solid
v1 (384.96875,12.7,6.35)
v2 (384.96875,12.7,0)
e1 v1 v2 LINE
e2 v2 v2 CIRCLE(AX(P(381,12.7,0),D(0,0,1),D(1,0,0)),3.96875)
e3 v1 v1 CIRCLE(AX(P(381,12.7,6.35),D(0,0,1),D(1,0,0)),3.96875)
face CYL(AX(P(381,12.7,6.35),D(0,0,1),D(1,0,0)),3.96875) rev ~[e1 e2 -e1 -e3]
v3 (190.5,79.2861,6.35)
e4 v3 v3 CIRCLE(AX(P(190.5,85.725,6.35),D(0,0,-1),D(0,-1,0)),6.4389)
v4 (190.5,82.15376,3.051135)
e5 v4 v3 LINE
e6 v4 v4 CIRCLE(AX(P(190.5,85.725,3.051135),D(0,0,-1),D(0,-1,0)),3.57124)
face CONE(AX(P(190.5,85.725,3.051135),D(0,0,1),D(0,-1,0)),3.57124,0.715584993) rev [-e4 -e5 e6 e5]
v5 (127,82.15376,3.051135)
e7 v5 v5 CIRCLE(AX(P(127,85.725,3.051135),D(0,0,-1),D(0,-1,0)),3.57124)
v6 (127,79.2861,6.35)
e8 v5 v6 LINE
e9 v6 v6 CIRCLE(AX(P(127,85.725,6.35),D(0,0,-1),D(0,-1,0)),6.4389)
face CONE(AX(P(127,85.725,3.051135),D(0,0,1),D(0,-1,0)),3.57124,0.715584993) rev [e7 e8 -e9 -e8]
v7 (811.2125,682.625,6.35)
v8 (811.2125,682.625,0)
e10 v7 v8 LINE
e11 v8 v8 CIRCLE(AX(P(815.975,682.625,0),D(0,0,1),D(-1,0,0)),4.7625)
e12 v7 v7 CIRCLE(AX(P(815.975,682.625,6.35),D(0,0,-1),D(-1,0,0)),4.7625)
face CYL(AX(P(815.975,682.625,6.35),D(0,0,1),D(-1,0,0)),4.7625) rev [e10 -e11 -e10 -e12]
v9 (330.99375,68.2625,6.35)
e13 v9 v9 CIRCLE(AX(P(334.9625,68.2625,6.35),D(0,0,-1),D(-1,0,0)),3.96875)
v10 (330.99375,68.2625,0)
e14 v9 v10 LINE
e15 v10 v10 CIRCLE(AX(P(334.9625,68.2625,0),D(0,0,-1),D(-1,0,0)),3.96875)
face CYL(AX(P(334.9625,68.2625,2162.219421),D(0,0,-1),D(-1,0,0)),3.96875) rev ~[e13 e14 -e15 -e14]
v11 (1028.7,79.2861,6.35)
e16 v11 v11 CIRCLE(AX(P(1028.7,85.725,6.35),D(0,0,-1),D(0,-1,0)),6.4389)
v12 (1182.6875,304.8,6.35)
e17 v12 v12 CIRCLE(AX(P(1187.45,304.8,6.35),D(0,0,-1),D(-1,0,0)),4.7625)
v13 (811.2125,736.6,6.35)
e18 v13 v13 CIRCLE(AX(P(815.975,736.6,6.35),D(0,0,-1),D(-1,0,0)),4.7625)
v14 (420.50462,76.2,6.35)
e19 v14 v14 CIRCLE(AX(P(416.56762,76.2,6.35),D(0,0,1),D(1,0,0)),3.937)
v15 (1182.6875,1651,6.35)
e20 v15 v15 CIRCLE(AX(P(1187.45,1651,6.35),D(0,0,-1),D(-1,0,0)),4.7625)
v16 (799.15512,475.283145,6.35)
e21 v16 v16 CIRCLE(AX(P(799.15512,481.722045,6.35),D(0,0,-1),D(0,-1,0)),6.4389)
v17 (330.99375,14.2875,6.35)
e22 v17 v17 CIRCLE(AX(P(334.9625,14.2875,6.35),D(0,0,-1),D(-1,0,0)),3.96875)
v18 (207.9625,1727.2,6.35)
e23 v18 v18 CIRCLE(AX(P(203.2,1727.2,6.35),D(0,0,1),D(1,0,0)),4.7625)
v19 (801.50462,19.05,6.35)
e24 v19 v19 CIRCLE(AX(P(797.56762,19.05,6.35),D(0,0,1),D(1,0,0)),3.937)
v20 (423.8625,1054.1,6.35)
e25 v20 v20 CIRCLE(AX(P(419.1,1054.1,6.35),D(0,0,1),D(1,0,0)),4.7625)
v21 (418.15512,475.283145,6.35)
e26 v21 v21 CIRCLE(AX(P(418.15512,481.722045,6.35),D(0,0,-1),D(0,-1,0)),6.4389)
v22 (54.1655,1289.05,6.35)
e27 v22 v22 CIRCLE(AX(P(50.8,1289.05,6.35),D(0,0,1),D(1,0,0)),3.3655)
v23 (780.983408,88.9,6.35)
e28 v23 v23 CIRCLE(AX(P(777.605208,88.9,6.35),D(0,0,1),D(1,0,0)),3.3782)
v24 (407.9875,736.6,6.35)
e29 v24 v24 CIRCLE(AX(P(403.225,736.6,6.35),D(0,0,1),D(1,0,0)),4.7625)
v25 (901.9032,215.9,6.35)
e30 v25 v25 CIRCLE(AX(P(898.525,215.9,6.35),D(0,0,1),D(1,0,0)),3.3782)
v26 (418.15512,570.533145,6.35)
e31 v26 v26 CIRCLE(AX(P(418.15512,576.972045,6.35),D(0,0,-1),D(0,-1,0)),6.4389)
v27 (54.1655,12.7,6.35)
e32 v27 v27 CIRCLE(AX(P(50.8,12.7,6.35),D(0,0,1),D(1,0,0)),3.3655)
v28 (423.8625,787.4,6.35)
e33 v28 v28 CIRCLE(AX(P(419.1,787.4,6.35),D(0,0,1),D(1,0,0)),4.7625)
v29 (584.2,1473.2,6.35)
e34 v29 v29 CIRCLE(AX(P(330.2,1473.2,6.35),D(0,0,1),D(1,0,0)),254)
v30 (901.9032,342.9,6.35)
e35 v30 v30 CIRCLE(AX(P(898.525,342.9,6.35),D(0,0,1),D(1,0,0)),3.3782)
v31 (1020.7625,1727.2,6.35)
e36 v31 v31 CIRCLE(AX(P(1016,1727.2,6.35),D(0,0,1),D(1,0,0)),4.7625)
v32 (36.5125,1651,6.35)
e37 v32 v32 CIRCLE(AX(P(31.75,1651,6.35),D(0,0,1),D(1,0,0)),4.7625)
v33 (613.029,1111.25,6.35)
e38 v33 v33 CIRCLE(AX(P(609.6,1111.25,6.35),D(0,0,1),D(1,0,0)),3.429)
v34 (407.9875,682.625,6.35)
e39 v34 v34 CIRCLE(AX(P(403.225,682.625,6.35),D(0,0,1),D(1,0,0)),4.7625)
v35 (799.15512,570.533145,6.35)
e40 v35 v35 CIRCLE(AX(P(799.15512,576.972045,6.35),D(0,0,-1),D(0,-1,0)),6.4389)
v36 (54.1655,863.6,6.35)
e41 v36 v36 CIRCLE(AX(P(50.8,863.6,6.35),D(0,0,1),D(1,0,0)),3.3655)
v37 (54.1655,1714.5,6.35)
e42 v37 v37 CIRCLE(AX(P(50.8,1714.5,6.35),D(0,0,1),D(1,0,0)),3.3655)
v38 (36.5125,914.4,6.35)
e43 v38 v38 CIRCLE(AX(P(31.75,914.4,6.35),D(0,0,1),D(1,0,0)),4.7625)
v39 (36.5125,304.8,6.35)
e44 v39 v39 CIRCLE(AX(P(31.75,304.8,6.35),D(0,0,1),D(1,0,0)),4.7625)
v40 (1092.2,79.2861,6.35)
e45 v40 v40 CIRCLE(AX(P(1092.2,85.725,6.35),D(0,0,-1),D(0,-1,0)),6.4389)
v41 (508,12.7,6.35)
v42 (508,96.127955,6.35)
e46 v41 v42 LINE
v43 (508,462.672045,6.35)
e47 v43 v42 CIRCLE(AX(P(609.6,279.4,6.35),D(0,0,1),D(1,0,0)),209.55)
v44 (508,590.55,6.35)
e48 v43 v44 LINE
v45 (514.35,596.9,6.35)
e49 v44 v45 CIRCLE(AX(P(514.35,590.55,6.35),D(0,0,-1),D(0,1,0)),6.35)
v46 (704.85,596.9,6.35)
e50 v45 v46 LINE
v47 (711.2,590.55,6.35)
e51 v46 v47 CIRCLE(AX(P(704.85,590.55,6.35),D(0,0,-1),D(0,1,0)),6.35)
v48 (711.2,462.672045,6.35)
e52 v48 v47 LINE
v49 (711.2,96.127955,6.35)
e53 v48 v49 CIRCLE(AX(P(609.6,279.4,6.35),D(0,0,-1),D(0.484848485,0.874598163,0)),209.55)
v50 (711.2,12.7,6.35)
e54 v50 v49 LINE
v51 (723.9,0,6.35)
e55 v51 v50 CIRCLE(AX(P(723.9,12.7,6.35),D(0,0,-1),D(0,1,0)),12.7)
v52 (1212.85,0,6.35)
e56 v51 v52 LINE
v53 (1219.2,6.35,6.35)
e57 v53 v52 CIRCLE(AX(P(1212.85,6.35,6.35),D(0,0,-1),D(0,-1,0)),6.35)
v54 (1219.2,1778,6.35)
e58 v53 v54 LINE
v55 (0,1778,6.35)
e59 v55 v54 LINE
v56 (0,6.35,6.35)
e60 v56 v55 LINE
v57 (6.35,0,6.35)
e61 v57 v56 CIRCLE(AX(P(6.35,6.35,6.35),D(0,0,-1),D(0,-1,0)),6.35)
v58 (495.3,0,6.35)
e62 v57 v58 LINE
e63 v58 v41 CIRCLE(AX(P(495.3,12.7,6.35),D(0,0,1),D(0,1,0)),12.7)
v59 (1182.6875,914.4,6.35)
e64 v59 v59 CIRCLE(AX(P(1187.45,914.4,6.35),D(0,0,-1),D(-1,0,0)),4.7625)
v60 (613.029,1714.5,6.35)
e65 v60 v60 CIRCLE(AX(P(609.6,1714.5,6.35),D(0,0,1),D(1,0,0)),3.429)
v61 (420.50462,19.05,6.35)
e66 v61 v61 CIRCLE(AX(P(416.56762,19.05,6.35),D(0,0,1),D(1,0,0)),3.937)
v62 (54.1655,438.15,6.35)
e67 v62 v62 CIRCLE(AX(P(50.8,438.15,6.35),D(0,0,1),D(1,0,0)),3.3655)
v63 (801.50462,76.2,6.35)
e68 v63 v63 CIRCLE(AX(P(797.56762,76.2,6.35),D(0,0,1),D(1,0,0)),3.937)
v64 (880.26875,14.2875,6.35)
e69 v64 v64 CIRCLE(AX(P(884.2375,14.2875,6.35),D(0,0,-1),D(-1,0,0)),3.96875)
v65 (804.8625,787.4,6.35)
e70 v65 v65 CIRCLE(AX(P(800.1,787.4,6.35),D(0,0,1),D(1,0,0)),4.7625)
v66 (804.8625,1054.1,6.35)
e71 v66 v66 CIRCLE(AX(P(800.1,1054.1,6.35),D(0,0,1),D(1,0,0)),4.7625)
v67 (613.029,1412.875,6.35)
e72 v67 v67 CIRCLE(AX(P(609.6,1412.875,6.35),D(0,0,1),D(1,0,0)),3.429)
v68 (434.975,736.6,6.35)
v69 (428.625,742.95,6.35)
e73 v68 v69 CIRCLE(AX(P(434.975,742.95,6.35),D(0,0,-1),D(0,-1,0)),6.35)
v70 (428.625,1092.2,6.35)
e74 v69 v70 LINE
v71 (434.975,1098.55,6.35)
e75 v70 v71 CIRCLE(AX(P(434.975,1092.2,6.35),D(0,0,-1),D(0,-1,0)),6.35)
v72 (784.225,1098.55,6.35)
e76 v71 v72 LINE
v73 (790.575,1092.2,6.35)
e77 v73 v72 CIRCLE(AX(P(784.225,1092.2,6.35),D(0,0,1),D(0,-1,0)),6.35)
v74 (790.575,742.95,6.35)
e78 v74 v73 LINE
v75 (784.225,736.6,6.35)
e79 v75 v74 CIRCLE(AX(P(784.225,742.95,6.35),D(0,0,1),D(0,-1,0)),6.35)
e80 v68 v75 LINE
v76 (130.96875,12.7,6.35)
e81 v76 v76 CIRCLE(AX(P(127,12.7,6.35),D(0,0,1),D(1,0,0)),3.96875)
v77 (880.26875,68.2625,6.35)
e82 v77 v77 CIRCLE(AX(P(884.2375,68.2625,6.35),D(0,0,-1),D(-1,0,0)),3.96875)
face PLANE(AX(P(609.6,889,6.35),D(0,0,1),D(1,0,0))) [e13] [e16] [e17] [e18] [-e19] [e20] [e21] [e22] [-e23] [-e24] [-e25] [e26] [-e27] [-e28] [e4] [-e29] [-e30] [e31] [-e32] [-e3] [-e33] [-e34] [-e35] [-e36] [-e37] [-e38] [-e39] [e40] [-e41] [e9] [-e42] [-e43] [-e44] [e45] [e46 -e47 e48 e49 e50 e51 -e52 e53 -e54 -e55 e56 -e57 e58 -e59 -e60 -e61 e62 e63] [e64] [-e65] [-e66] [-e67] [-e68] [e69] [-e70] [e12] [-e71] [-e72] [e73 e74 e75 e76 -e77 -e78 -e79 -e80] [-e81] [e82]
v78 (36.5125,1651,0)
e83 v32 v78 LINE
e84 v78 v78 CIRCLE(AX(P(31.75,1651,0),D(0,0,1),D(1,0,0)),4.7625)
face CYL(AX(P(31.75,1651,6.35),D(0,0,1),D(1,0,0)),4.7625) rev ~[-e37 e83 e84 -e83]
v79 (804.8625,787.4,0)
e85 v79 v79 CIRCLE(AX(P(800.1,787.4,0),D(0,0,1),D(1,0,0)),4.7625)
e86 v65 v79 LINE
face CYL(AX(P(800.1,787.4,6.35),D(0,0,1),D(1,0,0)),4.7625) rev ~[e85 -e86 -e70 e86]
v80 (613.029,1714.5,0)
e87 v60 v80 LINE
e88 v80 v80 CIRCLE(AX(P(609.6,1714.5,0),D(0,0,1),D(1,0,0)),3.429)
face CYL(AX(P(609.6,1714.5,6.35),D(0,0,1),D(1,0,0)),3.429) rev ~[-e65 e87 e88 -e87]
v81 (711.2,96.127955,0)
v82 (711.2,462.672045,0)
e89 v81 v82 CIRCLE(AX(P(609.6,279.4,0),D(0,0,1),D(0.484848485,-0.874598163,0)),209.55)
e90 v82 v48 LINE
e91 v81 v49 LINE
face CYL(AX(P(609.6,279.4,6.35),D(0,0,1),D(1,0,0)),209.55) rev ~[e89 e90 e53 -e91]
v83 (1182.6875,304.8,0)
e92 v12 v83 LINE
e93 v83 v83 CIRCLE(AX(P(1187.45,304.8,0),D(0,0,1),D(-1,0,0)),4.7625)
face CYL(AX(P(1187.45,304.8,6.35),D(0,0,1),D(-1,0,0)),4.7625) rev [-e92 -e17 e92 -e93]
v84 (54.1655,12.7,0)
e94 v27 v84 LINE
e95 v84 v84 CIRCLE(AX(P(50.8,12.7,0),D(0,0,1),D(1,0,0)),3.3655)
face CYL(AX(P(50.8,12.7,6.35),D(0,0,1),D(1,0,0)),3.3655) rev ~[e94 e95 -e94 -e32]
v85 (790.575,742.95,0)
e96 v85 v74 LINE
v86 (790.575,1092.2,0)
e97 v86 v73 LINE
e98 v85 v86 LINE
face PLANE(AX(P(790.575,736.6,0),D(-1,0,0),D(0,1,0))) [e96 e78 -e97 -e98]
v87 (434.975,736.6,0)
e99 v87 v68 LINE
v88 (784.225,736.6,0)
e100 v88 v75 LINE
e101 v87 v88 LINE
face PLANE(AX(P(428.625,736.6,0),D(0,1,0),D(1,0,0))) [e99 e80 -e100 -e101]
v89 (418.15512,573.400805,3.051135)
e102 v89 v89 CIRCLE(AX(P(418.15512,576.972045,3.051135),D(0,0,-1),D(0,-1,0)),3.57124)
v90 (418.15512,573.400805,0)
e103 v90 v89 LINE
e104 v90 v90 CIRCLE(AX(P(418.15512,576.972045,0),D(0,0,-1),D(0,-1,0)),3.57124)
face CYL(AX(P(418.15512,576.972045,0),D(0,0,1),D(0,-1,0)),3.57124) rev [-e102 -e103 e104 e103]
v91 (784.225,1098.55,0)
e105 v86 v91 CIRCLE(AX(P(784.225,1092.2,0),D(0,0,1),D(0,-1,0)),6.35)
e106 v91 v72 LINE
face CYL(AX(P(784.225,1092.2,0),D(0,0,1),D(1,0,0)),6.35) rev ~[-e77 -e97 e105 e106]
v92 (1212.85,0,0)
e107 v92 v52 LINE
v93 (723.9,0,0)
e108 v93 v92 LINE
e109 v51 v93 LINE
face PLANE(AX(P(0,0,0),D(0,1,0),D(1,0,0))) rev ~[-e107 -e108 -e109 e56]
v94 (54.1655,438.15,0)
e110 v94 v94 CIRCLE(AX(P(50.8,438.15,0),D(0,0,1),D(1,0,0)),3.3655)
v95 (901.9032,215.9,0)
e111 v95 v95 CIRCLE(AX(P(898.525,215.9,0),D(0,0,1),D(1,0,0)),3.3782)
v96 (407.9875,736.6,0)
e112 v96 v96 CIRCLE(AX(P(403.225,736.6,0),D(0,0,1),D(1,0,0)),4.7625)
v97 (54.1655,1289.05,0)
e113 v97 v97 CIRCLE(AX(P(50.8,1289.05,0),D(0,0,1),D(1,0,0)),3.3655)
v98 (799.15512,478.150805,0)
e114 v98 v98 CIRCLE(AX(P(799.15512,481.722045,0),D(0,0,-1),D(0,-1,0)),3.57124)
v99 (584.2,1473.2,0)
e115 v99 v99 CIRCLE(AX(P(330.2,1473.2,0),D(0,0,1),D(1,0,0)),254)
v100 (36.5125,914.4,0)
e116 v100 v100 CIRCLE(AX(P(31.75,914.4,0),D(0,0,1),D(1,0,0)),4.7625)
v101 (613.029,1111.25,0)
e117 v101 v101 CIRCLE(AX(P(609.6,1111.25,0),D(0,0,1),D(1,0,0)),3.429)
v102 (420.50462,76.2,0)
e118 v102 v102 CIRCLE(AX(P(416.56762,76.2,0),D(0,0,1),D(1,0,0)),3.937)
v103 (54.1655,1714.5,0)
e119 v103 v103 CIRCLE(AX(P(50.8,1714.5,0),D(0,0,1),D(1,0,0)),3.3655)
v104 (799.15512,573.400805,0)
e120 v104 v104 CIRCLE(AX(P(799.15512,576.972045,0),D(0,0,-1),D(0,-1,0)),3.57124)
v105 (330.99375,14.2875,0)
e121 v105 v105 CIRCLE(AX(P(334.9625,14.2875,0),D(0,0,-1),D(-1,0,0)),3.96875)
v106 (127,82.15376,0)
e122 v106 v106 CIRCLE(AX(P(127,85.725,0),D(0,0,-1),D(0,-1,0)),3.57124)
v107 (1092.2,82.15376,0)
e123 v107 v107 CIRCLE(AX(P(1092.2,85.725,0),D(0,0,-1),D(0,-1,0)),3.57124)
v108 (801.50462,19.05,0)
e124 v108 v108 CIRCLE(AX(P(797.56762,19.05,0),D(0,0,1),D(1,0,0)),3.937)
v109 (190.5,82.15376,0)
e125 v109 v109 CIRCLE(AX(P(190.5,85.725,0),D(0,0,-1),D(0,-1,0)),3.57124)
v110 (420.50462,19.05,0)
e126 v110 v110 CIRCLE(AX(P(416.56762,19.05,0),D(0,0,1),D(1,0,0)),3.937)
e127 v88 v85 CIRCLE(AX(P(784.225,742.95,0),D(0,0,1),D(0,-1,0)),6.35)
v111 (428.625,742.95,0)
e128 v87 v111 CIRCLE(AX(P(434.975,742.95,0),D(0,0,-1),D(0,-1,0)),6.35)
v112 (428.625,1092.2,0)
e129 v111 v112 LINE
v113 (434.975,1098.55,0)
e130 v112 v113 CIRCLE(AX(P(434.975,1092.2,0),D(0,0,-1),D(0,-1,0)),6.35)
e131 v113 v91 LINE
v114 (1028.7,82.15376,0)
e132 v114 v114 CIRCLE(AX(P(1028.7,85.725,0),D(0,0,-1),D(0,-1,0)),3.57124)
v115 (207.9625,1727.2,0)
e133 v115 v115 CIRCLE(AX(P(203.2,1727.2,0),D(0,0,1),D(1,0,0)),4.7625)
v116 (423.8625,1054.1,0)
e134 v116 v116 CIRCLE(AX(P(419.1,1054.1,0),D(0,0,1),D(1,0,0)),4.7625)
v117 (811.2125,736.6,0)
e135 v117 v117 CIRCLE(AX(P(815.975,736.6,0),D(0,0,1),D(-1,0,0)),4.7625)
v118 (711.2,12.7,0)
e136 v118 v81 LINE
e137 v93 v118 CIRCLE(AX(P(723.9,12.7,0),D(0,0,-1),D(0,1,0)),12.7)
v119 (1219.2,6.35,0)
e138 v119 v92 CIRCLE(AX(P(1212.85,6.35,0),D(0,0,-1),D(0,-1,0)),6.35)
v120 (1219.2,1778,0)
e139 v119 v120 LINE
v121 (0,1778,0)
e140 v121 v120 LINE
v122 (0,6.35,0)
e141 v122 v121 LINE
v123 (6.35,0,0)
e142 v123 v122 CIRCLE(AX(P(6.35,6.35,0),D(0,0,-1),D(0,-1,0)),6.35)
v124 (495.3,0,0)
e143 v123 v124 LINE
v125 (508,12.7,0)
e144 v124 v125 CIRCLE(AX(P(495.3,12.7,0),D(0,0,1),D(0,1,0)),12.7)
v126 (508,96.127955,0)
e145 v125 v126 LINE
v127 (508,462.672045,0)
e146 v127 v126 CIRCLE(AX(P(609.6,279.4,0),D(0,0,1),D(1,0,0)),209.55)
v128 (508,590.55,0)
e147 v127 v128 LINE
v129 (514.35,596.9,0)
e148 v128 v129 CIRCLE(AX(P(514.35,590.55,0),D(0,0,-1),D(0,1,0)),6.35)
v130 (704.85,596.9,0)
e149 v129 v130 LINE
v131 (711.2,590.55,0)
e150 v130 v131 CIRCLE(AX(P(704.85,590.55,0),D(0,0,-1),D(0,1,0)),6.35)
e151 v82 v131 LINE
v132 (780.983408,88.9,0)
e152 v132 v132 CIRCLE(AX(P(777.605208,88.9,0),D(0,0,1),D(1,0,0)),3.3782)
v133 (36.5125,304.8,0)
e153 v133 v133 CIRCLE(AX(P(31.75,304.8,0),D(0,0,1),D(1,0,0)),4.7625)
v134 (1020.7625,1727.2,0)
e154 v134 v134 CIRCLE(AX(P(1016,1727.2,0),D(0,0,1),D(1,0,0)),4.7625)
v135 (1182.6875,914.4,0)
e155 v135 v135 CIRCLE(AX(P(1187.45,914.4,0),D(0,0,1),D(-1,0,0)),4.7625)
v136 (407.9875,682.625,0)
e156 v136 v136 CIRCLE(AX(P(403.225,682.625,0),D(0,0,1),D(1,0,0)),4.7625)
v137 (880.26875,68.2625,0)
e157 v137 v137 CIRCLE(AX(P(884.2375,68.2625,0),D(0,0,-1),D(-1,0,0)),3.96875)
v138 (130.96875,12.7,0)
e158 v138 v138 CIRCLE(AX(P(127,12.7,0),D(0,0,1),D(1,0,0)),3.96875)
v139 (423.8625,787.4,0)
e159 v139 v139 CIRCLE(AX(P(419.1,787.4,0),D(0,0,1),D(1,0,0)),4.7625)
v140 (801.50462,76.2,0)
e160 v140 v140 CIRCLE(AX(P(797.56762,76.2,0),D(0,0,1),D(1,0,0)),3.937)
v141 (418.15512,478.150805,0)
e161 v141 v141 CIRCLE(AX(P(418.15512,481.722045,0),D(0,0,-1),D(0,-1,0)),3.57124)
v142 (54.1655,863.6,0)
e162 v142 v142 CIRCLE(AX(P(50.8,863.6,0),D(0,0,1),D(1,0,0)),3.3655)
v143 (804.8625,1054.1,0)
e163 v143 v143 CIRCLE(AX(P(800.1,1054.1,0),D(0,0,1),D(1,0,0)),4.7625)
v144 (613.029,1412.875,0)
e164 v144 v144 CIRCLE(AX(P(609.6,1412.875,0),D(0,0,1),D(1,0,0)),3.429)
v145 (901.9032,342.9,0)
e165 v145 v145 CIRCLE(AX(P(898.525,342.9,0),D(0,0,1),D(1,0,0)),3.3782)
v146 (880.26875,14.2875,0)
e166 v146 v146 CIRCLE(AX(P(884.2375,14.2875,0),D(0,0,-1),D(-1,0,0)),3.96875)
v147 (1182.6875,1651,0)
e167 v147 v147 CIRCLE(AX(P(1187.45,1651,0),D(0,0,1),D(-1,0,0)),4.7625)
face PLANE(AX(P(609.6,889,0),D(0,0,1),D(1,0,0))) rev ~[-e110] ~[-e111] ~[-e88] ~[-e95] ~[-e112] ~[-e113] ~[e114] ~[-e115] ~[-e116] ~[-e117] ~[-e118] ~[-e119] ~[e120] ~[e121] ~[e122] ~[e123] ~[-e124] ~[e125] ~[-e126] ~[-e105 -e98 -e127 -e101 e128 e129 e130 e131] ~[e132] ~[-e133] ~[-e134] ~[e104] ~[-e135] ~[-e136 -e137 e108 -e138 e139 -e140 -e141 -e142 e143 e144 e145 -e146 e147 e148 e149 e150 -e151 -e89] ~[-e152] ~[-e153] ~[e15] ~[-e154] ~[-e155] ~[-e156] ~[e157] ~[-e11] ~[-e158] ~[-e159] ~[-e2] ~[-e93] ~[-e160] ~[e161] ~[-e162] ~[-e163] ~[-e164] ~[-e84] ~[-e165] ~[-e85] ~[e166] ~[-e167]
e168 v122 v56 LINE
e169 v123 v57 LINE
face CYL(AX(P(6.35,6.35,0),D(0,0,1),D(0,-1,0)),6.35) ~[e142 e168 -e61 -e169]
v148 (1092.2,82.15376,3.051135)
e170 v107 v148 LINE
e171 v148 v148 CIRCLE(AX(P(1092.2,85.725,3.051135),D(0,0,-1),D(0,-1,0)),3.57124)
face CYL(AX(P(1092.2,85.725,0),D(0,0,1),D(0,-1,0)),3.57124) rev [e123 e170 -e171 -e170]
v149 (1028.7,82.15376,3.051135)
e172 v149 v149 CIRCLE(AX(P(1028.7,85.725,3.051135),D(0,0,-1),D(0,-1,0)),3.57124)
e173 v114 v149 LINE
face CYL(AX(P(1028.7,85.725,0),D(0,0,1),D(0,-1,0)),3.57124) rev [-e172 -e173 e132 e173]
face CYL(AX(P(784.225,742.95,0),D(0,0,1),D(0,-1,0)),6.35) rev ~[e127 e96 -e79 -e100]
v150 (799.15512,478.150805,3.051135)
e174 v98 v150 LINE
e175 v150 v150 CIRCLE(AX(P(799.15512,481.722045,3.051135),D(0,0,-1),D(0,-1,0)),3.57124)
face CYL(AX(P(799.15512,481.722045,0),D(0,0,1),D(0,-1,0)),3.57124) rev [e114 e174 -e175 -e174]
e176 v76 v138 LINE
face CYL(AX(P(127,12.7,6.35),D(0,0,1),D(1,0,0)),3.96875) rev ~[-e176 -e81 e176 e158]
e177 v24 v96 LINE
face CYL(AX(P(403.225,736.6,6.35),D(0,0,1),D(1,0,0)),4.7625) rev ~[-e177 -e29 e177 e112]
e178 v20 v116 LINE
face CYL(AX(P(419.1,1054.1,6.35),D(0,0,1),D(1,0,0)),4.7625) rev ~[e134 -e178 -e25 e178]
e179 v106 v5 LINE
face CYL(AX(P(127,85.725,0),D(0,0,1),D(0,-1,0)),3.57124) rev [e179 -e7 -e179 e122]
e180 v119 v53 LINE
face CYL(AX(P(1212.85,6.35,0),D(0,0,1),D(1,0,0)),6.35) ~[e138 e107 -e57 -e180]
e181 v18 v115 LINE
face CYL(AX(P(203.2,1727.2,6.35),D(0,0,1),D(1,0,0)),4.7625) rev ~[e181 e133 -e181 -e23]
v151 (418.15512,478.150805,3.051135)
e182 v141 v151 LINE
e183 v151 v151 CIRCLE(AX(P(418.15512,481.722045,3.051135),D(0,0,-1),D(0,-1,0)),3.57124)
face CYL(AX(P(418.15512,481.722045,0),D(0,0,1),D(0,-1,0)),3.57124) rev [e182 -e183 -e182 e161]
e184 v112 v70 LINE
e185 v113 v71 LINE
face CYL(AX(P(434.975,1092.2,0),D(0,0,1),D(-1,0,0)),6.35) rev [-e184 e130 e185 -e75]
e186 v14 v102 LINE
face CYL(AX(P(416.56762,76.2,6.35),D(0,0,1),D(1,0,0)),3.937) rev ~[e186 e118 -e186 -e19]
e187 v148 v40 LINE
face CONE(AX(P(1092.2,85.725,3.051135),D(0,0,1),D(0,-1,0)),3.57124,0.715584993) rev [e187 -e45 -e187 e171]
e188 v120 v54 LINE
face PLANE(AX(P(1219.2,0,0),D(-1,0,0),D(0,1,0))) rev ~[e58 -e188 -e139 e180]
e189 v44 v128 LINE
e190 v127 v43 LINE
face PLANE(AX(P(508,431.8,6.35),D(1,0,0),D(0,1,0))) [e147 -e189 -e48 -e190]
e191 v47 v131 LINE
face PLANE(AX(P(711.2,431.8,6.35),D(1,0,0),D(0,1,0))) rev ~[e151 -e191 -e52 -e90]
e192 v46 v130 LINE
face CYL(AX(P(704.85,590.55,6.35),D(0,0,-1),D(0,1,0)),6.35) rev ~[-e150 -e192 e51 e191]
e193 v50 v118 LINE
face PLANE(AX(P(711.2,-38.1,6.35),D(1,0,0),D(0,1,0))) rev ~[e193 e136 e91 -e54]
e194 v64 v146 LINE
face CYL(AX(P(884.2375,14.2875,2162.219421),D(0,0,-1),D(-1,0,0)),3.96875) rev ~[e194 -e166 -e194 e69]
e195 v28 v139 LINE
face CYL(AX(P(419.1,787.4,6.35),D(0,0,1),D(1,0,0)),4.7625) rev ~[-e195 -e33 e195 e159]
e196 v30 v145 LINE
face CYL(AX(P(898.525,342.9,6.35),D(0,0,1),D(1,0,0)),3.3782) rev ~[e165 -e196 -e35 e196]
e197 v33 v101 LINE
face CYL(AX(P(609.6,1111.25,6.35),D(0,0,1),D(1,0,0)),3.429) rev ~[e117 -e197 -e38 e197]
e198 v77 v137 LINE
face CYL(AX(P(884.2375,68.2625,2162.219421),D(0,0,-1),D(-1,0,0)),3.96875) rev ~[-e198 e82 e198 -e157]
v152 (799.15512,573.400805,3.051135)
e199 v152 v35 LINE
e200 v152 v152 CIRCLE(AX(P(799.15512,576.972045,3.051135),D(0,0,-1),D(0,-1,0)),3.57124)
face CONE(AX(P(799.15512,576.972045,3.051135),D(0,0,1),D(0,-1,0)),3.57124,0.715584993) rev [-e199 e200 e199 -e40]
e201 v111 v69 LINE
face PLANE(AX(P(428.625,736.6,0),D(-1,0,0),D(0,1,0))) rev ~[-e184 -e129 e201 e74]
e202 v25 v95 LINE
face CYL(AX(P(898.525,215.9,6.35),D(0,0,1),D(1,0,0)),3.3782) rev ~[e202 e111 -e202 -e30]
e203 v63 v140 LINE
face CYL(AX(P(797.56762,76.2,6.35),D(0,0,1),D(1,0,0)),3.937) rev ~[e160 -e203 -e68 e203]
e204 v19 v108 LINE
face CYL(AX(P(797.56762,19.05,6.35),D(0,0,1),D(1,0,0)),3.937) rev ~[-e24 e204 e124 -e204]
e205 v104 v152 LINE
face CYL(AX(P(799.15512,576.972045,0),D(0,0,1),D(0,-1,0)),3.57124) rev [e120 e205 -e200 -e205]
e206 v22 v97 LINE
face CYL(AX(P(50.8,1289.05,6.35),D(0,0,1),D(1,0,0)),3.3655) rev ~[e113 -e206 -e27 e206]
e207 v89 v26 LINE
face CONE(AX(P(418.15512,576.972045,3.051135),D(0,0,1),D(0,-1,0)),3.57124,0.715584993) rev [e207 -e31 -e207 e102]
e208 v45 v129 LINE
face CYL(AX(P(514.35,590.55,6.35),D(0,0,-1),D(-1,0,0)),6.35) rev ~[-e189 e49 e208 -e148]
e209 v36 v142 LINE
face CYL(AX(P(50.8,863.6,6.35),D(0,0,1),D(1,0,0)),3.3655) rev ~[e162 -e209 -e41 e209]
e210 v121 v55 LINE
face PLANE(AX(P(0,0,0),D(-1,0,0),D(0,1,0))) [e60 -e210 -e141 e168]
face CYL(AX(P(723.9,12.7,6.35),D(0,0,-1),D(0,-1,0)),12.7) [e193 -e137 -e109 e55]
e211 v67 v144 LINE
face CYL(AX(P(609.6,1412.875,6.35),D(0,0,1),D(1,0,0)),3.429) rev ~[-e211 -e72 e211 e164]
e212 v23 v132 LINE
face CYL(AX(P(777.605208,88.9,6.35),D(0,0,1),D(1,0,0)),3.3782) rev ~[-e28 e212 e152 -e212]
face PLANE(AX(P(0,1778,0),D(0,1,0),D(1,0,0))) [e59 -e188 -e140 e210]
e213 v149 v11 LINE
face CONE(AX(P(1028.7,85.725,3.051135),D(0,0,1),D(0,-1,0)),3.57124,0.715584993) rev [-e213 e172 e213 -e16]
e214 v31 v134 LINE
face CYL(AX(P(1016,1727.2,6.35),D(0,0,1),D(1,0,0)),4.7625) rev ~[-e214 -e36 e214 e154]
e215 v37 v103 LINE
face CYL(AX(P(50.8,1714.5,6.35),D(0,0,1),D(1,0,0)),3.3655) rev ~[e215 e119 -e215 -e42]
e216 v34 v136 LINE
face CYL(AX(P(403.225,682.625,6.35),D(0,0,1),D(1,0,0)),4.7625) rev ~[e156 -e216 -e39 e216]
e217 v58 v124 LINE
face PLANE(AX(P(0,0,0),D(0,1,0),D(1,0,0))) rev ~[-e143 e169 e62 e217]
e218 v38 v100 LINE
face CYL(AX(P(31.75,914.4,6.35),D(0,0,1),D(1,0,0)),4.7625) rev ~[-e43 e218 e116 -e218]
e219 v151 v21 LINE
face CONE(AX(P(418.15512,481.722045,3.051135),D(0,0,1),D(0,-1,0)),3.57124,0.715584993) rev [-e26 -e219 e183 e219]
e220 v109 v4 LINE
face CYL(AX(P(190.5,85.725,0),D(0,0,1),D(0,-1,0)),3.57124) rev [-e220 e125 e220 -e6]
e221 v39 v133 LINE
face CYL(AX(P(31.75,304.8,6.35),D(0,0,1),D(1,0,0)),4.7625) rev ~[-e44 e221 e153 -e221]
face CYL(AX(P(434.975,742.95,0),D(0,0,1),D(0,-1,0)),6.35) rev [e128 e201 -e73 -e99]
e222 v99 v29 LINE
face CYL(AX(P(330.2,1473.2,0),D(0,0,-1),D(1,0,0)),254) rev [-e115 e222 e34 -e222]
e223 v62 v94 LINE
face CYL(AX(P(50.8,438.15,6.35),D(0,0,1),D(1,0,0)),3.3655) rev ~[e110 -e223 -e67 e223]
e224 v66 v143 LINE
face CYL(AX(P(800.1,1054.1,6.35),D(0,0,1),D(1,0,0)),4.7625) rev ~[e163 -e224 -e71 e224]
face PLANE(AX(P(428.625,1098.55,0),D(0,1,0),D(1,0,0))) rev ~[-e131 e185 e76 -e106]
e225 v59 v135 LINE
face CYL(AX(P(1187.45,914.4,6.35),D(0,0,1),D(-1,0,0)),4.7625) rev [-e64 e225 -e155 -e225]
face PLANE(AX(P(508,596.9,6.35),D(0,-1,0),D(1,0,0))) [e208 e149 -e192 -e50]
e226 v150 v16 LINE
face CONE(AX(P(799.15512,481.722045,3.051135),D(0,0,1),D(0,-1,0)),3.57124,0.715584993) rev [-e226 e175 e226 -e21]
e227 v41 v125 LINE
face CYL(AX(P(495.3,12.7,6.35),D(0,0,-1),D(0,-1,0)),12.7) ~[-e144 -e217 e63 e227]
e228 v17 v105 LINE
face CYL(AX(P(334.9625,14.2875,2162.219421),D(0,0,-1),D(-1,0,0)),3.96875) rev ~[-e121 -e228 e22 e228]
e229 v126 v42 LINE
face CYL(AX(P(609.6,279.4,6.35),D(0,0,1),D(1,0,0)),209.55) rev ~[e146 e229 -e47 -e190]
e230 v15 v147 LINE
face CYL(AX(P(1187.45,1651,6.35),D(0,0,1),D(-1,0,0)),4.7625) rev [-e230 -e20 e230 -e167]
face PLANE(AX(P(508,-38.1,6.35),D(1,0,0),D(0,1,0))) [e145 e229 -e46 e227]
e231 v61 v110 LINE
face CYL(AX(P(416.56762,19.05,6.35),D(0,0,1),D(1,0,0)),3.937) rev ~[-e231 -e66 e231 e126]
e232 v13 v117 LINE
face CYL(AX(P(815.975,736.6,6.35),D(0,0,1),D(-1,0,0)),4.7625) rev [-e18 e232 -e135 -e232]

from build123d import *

# Parameters (mm, degrees)
SKETCH1_W                                     = 1219.2
SKETCH1_H                                     = 1778
SKETCH1_R                                     = 254
SKETCH1_W_2                                   = 361.95
SKETCH1_H_2                                   = 361.95
BOSS_EXTRUDE1_DEPTH                           = 6.35
SKETCH3_R                                     = 209.55
CUT_EXTRUDE2_DEPTH                            = 7.35
SKETCH2_W                                     = 203.2
SKETCH2_H                                     = 165.1
CUT_EXTRUDE1_DEPTH                            = 7.35
SKETCH4_R                                     = 3.3655
CUT_EXTRUDE3_DEPTH                            = 7.35
LPATTERN1_COUNT                               = 5
LPATTERN1_PITCH                               = 425.45
SKETCH5_R                                     = 3.429
CUT_EXTRUDE4_DEPTH                            = 7.35
LPATTERN2_COUNT                               = 3
LPATTERN2_PITCH                               = 301.625
SKETCH6_R                                     = 3.96875
CUT_EXTRUDE5_DEPTH                            = 7.35
SKETCH7_R                                     = 3.3782
CUT_EXTRUDE6_DEPTH                            = 7.35
CSK_FOR_1_4_FLAT_HEAD_MACHINE_SCREW1_AT_COUNT = 2
CSK_FOR_1_4_FLAT_HEAD_MACHINE_SCREW1_AT_PITCH = 63.5
LPATTERN3_COUNT                               = 2
LPATTERN3_PITCH                               = 901.7
SKETCH12_R                                    = 4.7625
CUT_EXTRUDE7_DEPTH                            = 7.35
SKETCH14_R                                    = 4.7625
CUT_EXTRUDE8_DEPTH                            = 7.35
SKETCH15_R                                    = 4.7625
CUT_EXTRUDE9_DEPTH                            = 7.35
SKETCH16_R                                    = 4.7625
CUT_EXTRUDE10_DEPTH                           = 7.35
FILLET1_R                                     = 12.7
FILLET2_R                                     = 6.35
SKETCH17_R                                    = 3.937
CUT_EXTRUDE11_DEPTH                           = 7.35
CSK_FOR_1_4_FLAT_HEAD_MACHINE_SCREW2_AT_COUNT = 2
CSK_FOR_1_4_FLAT_HEAD_MACHINE_SCREW2_AT_PITCH = 95.25
CSK_FOR_1_4_FLAT_HEAD_MACHINE_SCREW2_2_COUNT  = 2
CSK_FOR_1_4_FLAT_HEAD_MACHINE_SCREW2_2_PITCH  = 381
CSK_FOR_1_4_FLAT_HEAD_MACHINE_SCREW2_3_COUNT  = 2
CSK_FOR_1_4_FLAT_HEAD_MACHINE_SCREW2_3_PITCH  = 392.72581084
F_5_16_0_3125_DIAMETER_HOLE1_D                = 7.9375


with BuildPart() as part:
    # Sketch1 → Boss-Extrude1 (new body)
    with BuildSketch(Plane.XY):
        with Locations((609.6, 889)):
            Rectangle(SKETCH1_W, SKETCH1_H)
        with Locations((330.2, 1473.2)):
            Circle(SKETCH1_R, mode=Mode.SUBTRACT)
        with Locations((609.6, 917.575)):
            Rectangle(SKETCH1_W_2, SKETCH1_H_2, mode=Mode.SUBTRACT)
    extrude(amount=BOSS_EXTRUDE1_DEPTH)

    # Sketch3 → Cut-Extrude2 (cut, through all)
    with BuildSketch(Plane.XY.offset(6.35)):
        with Locations((609.6, 279.4)):
            Circle(SKETCH3_R)
    extrude(amount=-CUT_EXTRUDE2_DEPTH, mode=Mode.SUBTRACT)

    # Sketch2 → Cut-Extrude1 (cut, through all)
    with BuildSketch(Plane.XY.offset(6.35)):
        with Locations((609.6, 44.45)):
            Rectangle(SKETCH2_W, SKETCH2_H)
        with Locations((609.6, 514.35)):
            Rectangle(SKETCH2_W, SKETCH2_H)
    extrude(amount=-CUT_EXTRUDE1_DEPTH, mode=Mode.SUBTRACT)

    # Sketch4 → Cut-Extrude3 (cut, through all)
    with BuildSketch(Plane.XY.offset(6.35)):
        with Locations((50.8, 12.7)):
            Circle(SKETCH4_R)
    cut_extrude3 = extrude(amount=-CUT_EXTRUDE3_DEPTH, mode=Mode.SUBTRACT)

    # LPattern1: Cut-Extrude3 ×5
    with Locations(*[(0, i * LPATTERN1_PITCH, 0) for i in range(1, LPATTERN1_COUNT)]):
        add(cut_extrude3, mode=Mode.SUBTRACT)

    # Sketch5 → Cut-Extrude4 (cut, through all)
    with BuildSketch(Plane.XY.offset(6.35)):
        with Locations((609.6, 1714.5)):
            Circle(SKETCH5_R)
    cut_extrude4 = extrude(amount=-CUT_EXTRUDE4_DEPTH, mode=Mode.SUBTRACT)

    # LPattern2: Cut-Extrude4 ×3
    with Locations(*[(0, -i * LPATTERN2_PITCH, 0) for i in range(1, LPATTERN2_COUNT)]):
        add(cut_extrude4, mode=Mode.SUBTRACT)

    # Sketch6 → Cut-Extrude5 (cut, through all)
    with BuildSketch(Plane.XY.offset(6.35)):
        with Locations((127, 12.7)):
            Circle(SKETCH6_R)
        with Locations((381, 12.7)):
            Circle(SKETCH6_R)
    extrude(amount=-CUT_EXTRUDE5_DEPTH, mode=Mode.SUBTRACT)

    # Sketch7 → Cut-Extrude6 (cut, through all)
    with BuildSketch(Plane.XY.offset(6.35)):
        with Locations((777.605208253, 88.9)):
            Circle(SKETCH7_R)
        with Locations((898.525, 342.9)):
            Circle(SKETCH7_R)
        with Locations((898.525, 215.9)):
            Circle(SKETCH7_R)
    extrude(amount=-CUT_EXTRUDE6_DEPTH, mode=Mode.SUBTRACT)

    # Sketch11 → CSK for 1/4 Flat Head Machine Screw1 (revolve, cut)
    with BuildSketch(Plane(origin=(127, 85.725, 6.35), x_dir=(0, -1, 0), z_dir=(1, 0, 0))):
        Polygon((0, 0), (0, 6.35), (3.57124, 6.35), (3.57124, 3.298865467), (6.4389, 0), align=None)
    csk_for_1_4_flat_head_machine_screw1 = revolve(axis=Axis((127, 85.725, 12.7), (0, 0, -1)), mode=Mode.SUBTRACT)

    # CSK for 1/4 Flat Head Machine Screw1 at: CSK for 1/4 Flat Head Machine Screw1 ×2
    with Locations(*[(i * CSK_FOR_1_4_FLAT_HEAD_MACHINE_SCREW1_AT_PITCH, 0, 0) for i in range(1, CSK_FOR_1_4_FLAT_HEAD_MACHINE_SCREW1_AT_COUNT)]):
        add(csk_for_1_4_flat_head_machine_screw1, mode=Mode.SUBTRACT)

    # LPattern3: CSK for 1/4 Flat Head Machine Screw1 ×2
    with Locations(*[(i * LPATTERN3_PITCH, 0, 0) for i in range(1, LPATTERN3_COUNT)]):
        add(csk_for_1_4_flat_head_machine_screw1, mode=Mode.SUBTRACT)

    # LPattern3 copy 1 sketch → LPattern3 copy 1 (revolve, cut)
    with BuildSketch(Plane(origin=(1092.2, 85.725, 6.35), x_dir=(0, -1, 0), z_dir=(1, 0, 0))):
        Polygon((0, 0), (0, 6.35), (3.57124, 6.35), (3.57124, 3.298865467), (6.4389, 0), align=None)
    revolve(axis=Axis((1092.2, 85.725, 12.7), (0, 0, -1)), mode=Mode.SUBTRACT)

    # Sketch12 → Cut-Extrude7 (cut, through all)
    with BuildSketch(Plane.XY.offset(6.35)):
        with Locations((203.2, 1727.2)):
            Circle(SKETCH12_R)
        with Locations((1016, 1727.2)):
            Circle(SKETCH12_R)
    extrude(amount=-CUT_EXTRUDE7_DEPTH, mode=Mode.SUBTRACT)

    # Sketch14 → Cut-Extrude8 (cut, through all)
    with BuildSketch(Plane.XY.offset(6.35)):
        with Locations((31.75, 1651)):
            Circle(SKETCH14_R)
        with Locations((31.75, 914.4)):
            Circle(SKETCH14_R)
        with Locations((31.75, 304.8)):
            Circle(SKETCH14_R)
    cut_extrude8 = extrude(amount=-CUT_EXTRUDE8_DEPTH, mode=Mode.SUBTRACT)

    # Mirror1: Cut-Extrude8 across plane
    add(cut_extrude8.mirror(Plane.ZY.offset(-609.6)), mode=Mode.SUBTRACT)

    # Sketch15 → Cut-Extrude9 (cut, through all)
    with BuildSketch(Plane.XY.offset(6.35)):
        with Locations((403.225, 736.6)):
            Circle(SKETCH15_R)
        with Locations((403.225, 682.625)):
            Circle(SKETCH15_R)
    cut_extrude9 = extrude(amount=-CUT_EXTRUDE9_DEPTH, mode=Mode.SUBTRACT)

    # Mirror2: Cut-Extrude9 across plane
    add(cut_extrude9.mirror(Plane.ZY.offset(-609.6)), mode=Mode.SUBTRACT)

    # Sketch16 → Cut-Extrude10 (cut, through all)
    with BuildSketch(Plane.XY.offset(6.35)):
        with Locations((419.1, 1054.1)):
            Circle(SKETCH16_R)
        with Locations((419.1, 787.4)):
            Circle(SKETCH16_R)
        with Locations((800.1, 1054.1)):
            Circle(SKETCH16_R)
        with Locations((800.1, 787.4)):
            Circle(SKETCH16_R)
    extrude(amount=-CUT_EXTRUDE10_DEPTH, mode=Mode.SUBTRACT)

    # Fillet1
    fillet1_edges = [part.edges().sort_by_distance(p)[0] for p in [
        (508, 0, 3.175),
        (711.2, 0, 3.175),
    ]]
    fillet(fillet1_edges, radius=FILLET1_R)

    # Fillet2
    fillet2_edges = [part.edges().sort_by_distance(p)[0] for p in [
        (428.625, 1098.55, 3.175),
        (428.625, 736.6, 3.175),
        (790.575, 736.6, 3.175),
        (790.575, 1098.55, 3.175),
        (711.2, 596.9, 3.175),
        (508, 596.9, 3.175),
        (0, 0, 3.175),
        (1219.2, 0, 3.175),
    ]]
    fillet(fillet2_edges, radius=FILLET2_R)

    # Sketch17 → Cut-Extrude11 (cut, through all)
    with BuildSketch(Plane.XY.offset(6.35)):
        with Locations((416.56762, 76.2)):
            Circle(SKETCH17_R)
        with Locations((416.56762, 19.05)):
            Circle(SKETCH17_R)
        with Locations((797.56762, 19.05)):
            Circle(SKETCH17_R)
        with Locations((797.56762, 76.2)):
            Circle(SKETCH17_R)
    extrude(amount=-CUT_EXTRUDE11_DEPTH, mode=Mode.SUBTRACT)

    # Sketch21 → CSK for 1/4 Flat Head Machine Screw2 (revolve, cut)
    with BuildSketch(Plane(origin=(418.15512, 576.972045059, 6.35), x_dir=(0, -1, 0), z_dir=(1, 0, 0))):
        Polygon((0, 0), (0, 6.35), (3.57124, 6.35), (3.57124, 3.298865467), (6.4389, 0), align=None)
    csk_for_1_4_flat_head_machine_screw2 = revolve(axis=Axis((418.15512, 576.972045059, 12.7), (0, 0, -1)), mode=Mode.SUBTRACT)

    # CSK for 1/4 Flat Head Machine Screw2 at: CSK for 1/4 Flat Head Machine Screw2 ×2
    with Locations(*[(0, -i * CSK_FOR_1_4_FLAT_HEAD_MACHINE_SCREW2_AT_PITCH, 0) for i in range(1, CSK_FOR_1_4_FLAT_HEAD_MACHINE_SCREW2_AT_COUNT)]):
        add(csk_for_1_4_flat_head_machine_screw2, mode=Mode.SUBTRACT)

    # CSK for 1_4 Flat Head Machine Screw2 2: CSK for 1/4 Flat Head Machine Screw2 ×2
    with Locations(*[(i * CSK_FOR_1_4_FLAT_HEAD_MACHINE_SCREW2_2_PITCH, 0, 0) for i in range(1, CSK_FOR_1_4_FLAT_HEAD_MACHINE_SCREW2_2_COUNT)]):
        add(csk_for_1_4_flat_head_machine_screw2, mode=Mode.SUBTRACT)

    # CSK for 1_4 Flat Head Machine Screw2 3: CSK for 1/4 Flat Head Machine Screw2 ×2
    with Locations(*[Vector(0.9701425, -0.242535625, 0) * (i * CSK_FOR_1_4_FLAT_HEAD_MACHINE_SCREW2_3_PITCH) for i in range(1, CSK_FOR_1_4_FLAT_HEAD_MACHINE_SCREW2_3_COUNT)]):
        add(csk_for_1_4_flat_head_machine_screw2, mode=Mode.SUBTRACT)

    # 5/16 (0.3125) Diameter Hole1 (through all)
    with Locations(Plane.XY.offset(6.35)):
        with Locations((334.9625, 68.2625), (334.9625, 14.2875), (884.2375, 14.2875), (884.2375, 68.2625)):
            Hole(F_5_16_0_3125_DIAMETER_HOLE1_D / 2)


solid = part.part
